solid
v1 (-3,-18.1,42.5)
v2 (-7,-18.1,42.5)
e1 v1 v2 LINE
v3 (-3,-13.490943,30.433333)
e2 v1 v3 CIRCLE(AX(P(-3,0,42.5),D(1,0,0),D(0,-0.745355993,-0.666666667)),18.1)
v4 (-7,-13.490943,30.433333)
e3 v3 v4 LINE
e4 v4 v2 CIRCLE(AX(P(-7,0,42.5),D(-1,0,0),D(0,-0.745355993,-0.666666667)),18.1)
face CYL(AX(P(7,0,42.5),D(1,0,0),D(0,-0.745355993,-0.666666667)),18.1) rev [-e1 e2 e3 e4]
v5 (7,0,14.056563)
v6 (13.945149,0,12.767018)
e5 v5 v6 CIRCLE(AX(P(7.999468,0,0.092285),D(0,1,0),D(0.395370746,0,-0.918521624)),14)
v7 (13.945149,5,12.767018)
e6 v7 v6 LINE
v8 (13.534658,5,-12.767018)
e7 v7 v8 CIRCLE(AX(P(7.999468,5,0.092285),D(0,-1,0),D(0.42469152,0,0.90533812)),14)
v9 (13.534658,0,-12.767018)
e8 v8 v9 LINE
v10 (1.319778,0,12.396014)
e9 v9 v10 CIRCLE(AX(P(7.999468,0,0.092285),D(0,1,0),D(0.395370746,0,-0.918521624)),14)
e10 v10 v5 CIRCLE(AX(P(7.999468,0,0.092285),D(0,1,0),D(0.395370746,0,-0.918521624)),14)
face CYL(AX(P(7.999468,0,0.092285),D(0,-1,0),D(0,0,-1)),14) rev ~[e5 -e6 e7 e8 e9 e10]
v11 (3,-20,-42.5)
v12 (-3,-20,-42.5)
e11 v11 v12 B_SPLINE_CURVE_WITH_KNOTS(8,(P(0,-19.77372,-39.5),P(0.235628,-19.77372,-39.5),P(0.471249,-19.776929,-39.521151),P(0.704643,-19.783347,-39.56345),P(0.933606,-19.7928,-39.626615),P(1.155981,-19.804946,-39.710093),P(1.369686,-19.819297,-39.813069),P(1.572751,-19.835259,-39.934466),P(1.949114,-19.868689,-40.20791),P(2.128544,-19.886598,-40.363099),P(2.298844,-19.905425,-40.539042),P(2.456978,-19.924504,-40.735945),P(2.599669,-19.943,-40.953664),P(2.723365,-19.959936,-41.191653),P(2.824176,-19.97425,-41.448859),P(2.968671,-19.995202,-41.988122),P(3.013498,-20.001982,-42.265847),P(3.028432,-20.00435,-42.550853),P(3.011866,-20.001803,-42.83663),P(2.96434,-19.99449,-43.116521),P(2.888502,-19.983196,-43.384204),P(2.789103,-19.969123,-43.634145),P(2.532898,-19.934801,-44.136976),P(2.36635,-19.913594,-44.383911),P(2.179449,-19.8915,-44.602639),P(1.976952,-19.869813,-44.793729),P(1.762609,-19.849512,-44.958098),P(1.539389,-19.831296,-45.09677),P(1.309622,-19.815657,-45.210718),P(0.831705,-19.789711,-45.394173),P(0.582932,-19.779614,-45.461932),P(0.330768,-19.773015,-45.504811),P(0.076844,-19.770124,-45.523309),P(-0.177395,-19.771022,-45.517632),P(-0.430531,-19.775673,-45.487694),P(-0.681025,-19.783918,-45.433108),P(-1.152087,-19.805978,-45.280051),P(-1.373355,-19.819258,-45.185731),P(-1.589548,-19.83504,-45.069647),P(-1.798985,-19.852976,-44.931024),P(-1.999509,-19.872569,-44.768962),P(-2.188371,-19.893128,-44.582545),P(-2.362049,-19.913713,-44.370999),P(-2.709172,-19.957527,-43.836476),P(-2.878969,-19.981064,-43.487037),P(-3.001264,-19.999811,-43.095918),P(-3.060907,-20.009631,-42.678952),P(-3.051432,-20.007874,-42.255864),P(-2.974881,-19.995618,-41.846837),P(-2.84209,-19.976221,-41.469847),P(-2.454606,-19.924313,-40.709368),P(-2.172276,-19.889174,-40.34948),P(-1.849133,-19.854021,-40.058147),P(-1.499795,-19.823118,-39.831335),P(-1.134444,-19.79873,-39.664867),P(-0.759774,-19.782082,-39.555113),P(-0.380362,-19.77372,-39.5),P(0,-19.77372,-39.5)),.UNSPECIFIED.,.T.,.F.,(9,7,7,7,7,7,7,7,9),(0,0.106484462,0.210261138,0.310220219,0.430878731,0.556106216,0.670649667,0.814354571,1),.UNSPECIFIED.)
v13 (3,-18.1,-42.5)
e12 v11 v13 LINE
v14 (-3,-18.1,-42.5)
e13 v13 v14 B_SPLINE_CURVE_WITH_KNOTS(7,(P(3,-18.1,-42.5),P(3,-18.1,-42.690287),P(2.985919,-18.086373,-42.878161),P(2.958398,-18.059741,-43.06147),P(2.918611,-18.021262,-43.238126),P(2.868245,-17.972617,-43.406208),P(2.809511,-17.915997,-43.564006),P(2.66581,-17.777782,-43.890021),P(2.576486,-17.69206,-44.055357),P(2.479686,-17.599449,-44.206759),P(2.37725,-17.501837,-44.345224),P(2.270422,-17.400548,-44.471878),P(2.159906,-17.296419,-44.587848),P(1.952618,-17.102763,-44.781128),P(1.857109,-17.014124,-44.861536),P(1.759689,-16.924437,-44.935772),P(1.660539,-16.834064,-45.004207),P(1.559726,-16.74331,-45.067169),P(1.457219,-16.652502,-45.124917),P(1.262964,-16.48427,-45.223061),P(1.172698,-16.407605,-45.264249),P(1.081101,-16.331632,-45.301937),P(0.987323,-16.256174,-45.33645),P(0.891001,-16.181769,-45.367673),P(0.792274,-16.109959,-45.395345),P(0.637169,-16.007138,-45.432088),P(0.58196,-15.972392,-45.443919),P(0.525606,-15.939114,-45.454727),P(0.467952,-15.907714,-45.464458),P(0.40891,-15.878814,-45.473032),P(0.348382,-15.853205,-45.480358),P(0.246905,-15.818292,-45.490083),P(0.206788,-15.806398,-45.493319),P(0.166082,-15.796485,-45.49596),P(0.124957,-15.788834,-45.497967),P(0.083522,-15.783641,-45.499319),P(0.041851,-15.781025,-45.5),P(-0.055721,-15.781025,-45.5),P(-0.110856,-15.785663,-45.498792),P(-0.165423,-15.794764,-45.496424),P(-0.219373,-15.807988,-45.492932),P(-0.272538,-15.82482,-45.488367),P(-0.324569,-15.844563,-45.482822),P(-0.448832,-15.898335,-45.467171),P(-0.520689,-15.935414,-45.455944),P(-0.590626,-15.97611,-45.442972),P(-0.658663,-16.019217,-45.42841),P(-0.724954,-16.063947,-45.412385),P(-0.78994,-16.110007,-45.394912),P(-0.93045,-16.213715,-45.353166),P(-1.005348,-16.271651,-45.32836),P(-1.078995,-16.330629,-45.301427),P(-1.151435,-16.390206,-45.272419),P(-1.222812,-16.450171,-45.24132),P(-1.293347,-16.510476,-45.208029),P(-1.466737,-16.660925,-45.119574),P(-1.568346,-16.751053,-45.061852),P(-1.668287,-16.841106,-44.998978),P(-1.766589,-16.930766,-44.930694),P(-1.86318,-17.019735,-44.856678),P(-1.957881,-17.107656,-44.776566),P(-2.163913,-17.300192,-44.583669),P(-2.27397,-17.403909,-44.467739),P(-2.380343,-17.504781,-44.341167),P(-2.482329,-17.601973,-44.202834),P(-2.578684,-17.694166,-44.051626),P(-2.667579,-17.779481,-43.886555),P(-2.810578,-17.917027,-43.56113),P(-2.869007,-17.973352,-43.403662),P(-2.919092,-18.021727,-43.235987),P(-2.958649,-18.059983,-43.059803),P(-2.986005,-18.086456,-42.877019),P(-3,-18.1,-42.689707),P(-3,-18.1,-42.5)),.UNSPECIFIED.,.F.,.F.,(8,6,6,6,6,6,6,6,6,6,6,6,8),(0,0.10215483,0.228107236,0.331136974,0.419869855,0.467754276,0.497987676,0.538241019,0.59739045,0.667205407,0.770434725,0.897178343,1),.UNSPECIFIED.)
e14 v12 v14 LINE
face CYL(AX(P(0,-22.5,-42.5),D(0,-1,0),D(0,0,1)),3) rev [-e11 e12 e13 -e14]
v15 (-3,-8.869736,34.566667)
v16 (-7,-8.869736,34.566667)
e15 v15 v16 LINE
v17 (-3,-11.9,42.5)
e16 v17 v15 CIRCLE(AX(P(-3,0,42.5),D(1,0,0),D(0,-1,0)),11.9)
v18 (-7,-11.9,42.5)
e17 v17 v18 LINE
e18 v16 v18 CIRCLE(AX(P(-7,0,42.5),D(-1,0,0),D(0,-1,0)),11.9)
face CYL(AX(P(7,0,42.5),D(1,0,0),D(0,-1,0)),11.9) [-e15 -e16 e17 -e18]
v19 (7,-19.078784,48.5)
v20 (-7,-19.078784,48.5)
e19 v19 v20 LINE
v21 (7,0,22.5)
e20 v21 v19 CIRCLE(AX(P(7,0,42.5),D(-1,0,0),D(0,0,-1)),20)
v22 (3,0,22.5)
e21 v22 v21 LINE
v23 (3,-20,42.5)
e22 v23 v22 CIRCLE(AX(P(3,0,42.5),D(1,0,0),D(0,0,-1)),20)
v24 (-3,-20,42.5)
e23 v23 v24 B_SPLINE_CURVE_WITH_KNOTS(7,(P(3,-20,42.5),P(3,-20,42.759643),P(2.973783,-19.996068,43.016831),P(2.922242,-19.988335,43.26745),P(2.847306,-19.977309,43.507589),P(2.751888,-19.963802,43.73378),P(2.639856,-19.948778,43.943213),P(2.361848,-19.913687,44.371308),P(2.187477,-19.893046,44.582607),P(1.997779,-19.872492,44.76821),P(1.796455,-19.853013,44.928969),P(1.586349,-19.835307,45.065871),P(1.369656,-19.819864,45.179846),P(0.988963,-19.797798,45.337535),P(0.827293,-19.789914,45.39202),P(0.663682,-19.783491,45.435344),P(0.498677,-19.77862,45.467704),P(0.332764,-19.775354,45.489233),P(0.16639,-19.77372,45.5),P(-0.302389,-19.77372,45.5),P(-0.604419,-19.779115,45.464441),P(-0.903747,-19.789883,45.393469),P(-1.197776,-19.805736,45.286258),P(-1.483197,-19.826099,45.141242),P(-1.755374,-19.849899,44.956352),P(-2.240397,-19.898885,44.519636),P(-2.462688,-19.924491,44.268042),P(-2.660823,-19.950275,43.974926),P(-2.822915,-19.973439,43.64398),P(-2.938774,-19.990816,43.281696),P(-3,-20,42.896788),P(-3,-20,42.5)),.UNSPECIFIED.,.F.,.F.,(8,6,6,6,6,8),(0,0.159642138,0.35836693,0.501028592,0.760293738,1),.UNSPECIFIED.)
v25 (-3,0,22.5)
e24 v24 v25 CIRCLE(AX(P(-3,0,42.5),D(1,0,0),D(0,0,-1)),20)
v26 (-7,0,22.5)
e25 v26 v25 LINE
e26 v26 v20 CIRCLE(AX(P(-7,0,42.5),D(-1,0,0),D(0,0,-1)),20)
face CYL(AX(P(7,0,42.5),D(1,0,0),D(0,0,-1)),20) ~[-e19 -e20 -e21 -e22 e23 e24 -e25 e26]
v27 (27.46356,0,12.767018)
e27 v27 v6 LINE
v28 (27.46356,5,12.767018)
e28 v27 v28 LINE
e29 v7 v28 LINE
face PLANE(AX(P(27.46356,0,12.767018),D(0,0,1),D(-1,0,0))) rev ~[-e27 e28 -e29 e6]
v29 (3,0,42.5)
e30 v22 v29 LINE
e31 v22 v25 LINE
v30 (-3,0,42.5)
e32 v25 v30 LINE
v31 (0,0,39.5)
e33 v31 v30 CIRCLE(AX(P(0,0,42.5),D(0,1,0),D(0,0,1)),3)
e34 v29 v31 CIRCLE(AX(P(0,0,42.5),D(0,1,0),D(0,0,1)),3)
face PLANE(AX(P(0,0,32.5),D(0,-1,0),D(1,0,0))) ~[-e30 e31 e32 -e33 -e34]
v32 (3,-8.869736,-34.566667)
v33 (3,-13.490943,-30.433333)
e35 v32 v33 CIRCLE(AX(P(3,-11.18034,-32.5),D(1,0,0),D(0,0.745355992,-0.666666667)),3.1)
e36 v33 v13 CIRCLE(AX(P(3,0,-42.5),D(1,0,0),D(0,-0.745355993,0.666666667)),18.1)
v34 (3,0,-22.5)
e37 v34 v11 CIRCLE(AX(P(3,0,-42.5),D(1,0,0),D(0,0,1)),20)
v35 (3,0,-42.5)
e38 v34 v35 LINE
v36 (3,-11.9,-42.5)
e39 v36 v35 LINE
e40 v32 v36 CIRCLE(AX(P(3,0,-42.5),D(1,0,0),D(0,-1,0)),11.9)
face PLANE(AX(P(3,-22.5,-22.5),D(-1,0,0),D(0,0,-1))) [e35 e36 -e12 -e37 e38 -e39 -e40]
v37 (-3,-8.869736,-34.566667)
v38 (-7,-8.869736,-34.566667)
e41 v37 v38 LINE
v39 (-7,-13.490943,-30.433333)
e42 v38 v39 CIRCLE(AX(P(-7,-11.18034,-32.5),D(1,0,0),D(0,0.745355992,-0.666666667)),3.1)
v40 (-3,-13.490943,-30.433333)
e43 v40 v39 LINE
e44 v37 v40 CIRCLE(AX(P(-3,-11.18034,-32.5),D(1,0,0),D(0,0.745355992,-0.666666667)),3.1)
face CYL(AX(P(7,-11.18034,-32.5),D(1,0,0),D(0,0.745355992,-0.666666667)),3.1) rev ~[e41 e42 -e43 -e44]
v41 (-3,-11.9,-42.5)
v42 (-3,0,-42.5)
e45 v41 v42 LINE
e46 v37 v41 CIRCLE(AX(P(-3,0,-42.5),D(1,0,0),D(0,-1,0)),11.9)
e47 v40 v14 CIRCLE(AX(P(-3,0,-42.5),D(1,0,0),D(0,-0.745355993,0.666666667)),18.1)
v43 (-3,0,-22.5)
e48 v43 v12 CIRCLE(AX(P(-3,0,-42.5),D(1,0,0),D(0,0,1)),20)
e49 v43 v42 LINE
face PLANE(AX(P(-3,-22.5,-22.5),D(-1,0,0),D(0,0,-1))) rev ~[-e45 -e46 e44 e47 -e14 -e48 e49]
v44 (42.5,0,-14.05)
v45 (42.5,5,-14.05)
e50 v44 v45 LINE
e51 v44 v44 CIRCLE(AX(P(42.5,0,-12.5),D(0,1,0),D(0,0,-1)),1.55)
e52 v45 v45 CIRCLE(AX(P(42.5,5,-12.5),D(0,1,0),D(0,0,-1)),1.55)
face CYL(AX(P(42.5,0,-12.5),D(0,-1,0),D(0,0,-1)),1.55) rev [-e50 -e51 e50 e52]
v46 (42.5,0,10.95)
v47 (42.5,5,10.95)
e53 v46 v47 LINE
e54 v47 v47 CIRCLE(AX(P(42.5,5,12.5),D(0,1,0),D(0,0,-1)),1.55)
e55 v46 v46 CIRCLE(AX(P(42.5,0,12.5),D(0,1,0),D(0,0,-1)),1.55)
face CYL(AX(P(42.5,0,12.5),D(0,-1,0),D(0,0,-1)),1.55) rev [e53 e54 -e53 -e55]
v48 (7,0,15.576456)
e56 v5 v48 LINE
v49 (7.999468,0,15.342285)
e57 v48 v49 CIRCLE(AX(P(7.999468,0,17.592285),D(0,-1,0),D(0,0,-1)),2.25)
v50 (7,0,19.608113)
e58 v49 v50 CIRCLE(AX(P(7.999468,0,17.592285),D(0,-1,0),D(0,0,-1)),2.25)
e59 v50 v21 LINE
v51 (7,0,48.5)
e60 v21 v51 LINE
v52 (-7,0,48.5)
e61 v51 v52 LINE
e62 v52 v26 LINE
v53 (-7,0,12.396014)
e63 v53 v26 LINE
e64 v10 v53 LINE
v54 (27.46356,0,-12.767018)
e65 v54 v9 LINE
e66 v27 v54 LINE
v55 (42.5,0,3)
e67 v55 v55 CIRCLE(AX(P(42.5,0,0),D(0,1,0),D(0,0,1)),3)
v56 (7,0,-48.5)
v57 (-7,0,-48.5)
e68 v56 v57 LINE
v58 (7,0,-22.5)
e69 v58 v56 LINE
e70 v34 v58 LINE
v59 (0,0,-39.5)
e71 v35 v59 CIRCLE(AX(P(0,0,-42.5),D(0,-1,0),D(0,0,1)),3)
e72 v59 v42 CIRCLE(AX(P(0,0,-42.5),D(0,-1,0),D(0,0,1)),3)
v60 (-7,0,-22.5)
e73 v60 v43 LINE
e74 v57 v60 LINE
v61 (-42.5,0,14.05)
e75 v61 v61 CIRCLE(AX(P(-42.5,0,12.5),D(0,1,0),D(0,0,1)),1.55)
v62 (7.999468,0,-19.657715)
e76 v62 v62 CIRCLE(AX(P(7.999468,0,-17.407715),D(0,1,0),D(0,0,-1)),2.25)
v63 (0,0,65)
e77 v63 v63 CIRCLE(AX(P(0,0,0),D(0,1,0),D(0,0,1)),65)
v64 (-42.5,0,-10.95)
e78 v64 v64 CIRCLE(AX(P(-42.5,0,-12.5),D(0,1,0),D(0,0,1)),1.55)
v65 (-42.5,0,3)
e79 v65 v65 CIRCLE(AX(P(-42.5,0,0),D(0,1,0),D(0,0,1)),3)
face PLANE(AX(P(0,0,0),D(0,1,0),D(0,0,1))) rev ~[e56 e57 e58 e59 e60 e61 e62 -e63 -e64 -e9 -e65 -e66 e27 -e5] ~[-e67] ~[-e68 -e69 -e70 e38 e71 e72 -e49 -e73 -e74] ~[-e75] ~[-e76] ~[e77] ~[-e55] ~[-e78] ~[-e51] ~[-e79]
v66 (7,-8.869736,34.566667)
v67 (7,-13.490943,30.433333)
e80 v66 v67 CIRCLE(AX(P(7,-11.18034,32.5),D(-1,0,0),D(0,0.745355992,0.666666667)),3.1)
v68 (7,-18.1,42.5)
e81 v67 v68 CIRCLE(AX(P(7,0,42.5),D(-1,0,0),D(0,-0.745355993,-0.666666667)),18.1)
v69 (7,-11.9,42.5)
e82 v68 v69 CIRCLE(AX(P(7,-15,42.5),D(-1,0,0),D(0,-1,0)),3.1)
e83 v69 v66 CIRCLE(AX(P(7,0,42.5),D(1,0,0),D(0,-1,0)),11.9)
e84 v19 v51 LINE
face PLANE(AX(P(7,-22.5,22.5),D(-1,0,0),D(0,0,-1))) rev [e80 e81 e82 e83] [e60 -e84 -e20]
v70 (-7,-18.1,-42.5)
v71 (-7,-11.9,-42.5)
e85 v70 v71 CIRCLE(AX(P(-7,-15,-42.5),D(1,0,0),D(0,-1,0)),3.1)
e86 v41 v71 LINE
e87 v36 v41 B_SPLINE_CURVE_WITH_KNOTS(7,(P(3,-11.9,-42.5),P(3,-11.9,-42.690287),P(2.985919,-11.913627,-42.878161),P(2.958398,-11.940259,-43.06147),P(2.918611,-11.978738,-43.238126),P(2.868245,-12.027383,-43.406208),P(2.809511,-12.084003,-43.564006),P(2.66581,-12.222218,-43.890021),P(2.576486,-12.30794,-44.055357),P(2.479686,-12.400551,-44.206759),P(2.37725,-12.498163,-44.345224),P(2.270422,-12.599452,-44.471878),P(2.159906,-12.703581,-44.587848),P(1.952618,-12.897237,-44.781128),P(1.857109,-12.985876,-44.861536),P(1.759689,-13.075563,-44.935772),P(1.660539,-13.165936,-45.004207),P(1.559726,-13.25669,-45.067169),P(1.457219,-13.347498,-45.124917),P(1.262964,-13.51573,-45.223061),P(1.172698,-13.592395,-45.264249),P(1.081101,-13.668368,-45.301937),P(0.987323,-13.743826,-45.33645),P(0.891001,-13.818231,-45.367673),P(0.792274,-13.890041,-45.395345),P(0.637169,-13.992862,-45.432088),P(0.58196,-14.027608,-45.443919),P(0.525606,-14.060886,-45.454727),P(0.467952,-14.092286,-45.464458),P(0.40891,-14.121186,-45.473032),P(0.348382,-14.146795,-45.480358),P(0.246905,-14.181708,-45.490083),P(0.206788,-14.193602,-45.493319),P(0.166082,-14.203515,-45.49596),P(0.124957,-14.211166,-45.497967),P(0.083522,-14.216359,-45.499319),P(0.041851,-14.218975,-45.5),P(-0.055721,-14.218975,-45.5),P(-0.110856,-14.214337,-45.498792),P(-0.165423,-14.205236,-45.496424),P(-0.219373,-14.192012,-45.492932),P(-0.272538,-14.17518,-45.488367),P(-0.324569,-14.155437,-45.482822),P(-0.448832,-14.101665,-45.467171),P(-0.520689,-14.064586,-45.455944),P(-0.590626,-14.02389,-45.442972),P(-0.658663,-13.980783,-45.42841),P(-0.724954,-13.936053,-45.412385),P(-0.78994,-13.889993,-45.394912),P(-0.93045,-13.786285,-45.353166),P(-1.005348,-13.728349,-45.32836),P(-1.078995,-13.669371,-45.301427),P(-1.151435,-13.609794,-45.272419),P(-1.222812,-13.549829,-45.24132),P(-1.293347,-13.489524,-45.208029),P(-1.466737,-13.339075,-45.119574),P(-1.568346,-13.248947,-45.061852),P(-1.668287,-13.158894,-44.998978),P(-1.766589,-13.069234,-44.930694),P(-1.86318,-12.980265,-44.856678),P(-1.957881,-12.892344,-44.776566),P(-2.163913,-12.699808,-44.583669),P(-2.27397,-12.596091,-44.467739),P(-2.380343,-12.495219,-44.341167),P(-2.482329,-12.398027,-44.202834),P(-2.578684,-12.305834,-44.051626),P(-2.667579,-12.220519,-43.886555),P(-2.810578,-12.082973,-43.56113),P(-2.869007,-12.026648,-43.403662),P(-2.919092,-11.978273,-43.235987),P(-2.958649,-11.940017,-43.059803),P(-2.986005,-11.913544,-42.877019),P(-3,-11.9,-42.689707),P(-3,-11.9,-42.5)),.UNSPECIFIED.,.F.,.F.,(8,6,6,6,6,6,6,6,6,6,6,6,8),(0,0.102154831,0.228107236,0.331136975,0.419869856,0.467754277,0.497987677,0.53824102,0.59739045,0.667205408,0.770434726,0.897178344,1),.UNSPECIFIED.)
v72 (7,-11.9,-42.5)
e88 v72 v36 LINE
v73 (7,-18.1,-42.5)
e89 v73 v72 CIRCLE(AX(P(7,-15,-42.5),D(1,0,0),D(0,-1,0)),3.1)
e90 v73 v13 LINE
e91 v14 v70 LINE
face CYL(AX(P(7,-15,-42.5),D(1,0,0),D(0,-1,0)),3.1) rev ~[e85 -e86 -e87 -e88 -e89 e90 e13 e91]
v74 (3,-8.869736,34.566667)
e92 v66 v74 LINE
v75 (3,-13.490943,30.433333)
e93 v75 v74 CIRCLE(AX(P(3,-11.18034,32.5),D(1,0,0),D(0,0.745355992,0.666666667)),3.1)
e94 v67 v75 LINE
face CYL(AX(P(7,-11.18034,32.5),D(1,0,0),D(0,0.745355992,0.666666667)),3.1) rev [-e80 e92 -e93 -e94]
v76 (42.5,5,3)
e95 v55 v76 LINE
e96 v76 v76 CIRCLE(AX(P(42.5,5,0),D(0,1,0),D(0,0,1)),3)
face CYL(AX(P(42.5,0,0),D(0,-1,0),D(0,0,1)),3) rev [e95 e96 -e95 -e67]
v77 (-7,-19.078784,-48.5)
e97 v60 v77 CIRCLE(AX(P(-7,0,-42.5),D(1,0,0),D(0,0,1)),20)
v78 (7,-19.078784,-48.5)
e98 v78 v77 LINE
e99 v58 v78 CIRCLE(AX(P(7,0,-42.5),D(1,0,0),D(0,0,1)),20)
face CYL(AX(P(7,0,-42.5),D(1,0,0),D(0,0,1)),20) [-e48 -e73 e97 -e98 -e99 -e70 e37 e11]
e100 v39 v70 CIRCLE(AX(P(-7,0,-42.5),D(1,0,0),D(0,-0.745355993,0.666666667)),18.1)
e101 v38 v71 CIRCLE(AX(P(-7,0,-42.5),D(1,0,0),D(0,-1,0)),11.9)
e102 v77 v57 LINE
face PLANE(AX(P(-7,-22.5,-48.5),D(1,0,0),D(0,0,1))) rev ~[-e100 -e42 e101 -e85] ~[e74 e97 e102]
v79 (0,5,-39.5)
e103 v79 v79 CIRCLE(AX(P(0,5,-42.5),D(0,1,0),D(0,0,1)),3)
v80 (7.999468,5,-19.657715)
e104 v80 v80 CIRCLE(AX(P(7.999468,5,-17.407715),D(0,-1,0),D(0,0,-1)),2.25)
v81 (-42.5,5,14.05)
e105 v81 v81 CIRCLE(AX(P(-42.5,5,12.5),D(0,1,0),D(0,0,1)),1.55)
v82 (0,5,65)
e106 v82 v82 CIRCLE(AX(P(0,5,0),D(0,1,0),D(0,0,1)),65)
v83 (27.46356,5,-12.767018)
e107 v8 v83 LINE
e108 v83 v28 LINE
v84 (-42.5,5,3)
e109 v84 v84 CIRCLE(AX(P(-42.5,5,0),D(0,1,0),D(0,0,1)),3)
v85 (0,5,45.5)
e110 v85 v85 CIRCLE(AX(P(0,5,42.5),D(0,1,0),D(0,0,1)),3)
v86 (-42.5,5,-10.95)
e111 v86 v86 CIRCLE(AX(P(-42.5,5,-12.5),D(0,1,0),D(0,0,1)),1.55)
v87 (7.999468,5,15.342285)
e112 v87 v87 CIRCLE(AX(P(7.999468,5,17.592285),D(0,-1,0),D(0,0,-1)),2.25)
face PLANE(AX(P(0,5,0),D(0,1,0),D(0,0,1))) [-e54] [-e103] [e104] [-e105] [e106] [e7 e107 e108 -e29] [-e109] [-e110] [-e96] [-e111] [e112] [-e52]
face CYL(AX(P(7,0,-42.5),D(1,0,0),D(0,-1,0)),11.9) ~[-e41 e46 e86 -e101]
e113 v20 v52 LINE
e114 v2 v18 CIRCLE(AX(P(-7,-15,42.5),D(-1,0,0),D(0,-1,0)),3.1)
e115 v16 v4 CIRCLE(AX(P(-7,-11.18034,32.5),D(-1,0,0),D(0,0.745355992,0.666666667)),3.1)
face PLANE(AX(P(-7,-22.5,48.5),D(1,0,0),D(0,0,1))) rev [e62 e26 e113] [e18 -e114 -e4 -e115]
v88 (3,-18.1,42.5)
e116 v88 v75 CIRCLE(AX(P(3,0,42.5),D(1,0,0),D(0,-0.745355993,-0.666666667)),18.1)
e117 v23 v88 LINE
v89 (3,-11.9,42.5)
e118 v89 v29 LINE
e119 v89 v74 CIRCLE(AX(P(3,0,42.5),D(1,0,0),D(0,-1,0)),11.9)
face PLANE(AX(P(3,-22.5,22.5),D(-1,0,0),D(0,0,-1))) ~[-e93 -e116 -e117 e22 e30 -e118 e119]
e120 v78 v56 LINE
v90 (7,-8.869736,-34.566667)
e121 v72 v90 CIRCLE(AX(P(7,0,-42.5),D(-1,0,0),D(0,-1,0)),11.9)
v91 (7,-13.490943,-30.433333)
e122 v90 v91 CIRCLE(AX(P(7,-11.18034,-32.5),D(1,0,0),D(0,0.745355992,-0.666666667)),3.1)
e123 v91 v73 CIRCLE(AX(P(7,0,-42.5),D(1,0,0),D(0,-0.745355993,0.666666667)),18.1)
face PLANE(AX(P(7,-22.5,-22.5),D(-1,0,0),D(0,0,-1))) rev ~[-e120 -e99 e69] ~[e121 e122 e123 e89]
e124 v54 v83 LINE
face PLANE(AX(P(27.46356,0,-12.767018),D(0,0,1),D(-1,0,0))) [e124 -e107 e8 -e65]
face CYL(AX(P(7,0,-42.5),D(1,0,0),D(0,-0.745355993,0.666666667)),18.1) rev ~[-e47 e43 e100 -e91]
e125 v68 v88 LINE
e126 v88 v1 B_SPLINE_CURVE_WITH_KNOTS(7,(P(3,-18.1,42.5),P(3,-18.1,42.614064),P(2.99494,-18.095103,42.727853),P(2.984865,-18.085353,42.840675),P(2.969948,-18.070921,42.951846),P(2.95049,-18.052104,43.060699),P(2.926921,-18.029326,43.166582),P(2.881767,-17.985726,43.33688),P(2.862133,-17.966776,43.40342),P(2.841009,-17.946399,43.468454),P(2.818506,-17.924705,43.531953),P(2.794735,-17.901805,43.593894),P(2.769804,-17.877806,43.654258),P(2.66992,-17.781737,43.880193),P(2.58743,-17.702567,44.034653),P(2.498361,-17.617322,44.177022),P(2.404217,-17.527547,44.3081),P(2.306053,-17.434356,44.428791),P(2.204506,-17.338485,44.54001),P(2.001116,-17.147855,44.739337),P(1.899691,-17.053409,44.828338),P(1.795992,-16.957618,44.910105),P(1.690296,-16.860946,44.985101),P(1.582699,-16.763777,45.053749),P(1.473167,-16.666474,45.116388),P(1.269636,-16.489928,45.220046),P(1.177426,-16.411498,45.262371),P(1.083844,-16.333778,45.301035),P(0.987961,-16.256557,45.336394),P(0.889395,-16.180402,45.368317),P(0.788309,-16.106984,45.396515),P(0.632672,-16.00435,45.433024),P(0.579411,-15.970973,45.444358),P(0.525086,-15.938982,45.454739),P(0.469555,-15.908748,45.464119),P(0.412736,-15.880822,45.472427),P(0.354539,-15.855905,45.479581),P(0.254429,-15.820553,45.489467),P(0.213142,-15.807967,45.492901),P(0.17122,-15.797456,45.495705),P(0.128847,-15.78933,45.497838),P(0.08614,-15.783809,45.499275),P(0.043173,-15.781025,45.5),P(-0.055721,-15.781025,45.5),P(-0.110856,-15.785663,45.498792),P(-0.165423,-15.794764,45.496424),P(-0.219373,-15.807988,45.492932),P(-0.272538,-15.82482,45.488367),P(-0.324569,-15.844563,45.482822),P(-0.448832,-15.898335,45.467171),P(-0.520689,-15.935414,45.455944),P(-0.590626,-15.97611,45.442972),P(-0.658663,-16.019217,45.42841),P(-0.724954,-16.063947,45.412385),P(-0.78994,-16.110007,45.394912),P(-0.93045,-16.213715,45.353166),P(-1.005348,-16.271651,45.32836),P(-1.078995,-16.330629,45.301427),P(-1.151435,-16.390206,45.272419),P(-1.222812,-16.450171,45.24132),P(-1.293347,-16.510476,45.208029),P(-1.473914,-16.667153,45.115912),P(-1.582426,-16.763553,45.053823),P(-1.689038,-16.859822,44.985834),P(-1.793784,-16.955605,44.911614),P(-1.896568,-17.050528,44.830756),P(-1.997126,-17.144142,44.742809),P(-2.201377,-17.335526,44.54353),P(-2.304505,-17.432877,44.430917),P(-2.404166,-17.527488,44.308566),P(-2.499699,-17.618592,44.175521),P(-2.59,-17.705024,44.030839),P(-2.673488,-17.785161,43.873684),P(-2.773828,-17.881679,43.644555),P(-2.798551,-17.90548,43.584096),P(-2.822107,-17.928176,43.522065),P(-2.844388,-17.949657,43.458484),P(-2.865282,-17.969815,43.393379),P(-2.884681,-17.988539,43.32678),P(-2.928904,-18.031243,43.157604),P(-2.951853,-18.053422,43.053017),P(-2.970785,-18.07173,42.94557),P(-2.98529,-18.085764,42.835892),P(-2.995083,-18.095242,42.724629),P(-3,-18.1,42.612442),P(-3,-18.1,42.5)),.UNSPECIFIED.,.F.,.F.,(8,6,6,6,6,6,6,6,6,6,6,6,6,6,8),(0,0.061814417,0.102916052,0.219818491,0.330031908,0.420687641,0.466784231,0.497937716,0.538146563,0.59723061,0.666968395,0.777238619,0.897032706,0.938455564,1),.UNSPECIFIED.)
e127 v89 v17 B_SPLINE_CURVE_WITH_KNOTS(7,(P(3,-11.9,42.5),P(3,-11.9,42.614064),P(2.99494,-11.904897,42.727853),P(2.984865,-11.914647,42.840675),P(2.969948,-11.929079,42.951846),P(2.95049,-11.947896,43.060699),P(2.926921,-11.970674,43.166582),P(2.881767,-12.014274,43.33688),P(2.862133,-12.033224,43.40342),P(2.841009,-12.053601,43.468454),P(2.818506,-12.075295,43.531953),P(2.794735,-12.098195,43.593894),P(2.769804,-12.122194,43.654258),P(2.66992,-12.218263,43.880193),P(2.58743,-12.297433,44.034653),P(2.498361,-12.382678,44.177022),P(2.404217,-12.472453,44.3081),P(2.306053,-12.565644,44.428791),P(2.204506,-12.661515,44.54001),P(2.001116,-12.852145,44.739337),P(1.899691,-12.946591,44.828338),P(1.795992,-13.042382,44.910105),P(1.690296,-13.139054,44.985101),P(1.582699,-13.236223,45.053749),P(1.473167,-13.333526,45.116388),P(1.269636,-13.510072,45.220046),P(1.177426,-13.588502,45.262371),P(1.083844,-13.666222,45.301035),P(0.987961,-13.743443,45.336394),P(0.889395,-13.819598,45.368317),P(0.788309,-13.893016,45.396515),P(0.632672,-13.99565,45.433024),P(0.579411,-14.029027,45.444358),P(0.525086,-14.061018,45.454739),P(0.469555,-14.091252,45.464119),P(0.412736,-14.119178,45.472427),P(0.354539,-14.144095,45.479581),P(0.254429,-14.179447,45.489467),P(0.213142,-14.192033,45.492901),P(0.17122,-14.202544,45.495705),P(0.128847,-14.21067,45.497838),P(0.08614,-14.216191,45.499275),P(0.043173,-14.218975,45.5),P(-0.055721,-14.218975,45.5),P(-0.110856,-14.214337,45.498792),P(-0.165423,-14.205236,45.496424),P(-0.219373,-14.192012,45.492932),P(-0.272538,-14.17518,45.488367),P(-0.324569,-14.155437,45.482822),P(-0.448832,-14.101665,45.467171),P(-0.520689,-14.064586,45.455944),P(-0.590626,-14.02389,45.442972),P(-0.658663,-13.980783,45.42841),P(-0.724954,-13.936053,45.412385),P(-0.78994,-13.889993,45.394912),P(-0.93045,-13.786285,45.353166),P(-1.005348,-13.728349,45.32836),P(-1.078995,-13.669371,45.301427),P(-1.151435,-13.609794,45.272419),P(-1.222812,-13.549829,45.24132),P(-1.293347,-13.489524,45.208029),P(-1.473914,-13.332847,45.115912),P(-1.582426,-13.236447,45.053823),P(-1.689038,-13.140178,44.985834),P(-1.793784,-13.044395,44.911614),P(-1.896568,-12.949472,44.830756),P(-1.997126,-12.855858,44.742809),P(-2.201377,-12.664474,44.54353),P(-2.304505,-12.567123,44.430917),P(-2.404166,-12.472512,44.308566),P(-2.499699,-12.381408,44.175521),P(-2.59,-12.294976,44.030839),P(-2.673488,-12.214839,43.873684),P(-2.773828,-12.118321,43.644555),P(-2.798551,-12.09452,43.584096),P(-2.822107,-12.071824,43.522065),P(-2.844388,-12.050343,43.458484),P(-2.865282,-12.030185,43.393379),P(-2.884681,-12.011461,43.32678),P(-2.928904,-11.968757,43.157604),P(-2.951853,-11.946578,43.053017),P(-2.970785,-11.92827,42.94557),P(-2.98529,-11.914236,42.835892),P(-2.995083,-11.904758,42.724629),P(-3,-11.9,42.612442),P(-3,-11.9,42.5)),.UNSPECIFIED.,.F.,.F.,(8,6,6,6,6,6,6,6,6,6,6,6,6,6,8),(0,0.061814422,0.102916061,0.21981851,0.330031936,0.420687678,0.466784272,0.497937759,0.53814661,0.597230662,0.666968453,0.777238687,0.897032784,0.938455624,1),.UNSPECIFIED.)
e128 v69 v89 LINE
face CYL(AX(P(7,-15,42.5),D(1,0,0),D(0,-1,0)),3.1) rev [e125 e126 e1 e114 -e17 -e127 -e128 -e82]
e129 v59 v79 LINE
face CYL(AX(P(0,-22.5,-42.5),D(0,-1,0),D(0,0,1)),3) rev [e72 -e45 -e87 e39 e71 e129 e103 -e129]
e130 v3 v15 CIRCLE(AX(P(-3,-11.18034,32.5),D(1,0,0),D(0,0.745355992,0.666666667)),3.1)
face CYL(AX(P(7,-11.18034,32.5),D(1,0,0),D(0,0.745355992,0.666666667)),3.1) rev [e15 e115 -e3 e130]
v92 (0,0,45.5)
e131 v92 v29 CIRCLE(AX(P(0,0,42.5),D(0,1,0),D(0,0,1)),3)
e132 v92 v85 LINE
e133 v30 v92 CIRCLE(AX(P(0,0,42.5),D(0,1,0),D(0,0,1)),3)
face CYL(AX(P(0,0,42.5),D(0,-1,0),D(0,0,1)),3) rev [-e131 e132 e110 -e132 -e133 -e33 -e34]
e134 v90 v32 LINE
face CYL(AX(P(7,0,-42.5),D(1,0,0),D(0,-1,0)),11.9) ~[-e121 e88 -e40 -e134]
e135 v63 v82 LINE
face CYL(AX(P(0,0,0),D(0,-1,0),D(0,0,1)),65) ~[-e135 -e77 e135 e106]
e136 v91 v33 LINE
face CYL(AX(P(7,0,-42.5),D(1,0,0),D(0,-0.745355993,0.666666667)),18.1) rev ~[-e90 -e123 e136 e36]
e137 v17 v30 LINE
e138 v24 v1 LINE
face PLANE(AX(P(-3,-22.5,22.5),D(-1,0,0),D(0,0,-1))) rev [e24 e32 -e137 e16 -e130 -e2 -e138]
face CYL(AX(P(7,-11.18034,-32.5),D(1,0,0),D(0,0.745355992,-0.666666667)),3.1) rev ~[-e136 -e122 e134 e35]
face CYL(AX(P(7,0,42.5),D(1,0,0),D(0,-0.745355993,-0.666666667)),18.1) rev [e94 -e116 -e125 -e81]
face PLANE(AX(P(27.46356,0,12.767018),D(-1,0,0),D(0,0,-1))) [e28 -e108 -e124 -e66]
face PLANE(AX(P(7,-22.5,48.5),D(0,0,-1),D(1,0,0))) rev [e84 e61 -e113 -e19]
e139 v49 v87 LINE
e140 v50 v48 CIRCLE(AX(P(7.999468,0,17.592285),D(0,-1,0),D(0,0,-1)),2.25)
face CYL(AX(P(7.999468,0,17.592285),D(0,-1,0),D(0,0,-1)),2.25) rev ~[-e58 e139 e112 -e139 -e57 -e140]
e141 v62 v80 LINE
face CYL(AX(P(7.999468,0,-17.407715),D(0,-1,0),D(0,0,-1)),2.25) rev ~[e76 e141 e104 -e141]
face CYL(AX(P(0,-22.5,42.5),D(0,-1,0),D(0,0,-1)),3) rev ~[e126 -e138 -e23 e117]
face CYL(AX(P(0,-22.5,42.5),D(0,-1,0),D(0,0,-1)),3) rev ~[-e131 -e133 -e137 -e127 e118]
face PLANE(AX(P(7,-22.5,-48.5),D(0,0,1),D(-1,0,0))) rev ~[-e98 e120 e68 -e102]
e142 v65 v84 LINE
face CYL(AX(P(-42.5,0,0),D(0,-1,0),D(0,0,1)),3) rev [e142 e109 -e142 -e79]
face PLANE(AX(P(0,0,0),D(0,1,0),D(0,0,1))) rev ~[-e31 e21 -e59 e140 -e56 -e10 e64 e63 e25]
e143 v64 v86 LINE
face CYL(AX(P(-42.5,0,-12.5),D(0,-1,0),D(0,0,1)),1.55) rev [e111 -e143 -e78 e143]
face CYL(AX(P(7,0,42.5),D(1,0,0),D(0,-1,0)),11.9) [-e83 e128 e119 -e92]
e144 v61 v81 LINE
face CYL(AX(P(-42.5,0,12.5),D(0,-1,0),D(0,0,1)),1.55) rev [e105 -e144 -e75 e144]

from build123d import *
from build123d.topology import SkipClean

# Parameters (mm, degrees)
SKETCH1_R           = 65
SKETCH1_R_2         = 5
SKETCH1_R_3         = 3
SKETCH1_R_4         = 1.55
BOSS_EXTRUDE1_DEPTH = 5
SKETCH2_R           = 14
CUT_EXTRUDE2_DEPTH  = 10
SKETCH3_R           = 2.25
SKETCH3_W           = 17.301764966
SKETCH3_H           = 25.534036418
CUT_EXTRUDE3_DEPTH  = 10
BOSS_EXTRUDE2_START = -27.5
SKETCH4_R           = 3
BOSS_EXTRUDE2_DEPTH = 22.5
SKETCH6_W           = 6
SKETCH6_H           = 20
CUT_EXTRUDE4_DEPTH  = 22.5
CUT_EXTRUDE5_REACH  = 101.575


with BuildPart() as part:
    # Sketch1 → Boss-Extrude1 (new body)
    with BuildSketch(Plane(origin=(0, 0, 0), x_dir=(1, 0, 0), z_dir=(0, 1, 0))):
        with Locations(Location((0, 0, 0), (0, 0, 270))):
            Circle(SKETCH1_R)
        with Locations(Location((0, 0, 0), (0, 0, 270))):
            Circle(SKETCH1_R_2, mode=Mode.SUBTRACT)
        with Locations(Location((0, 42.5, 0), (0, 0, 270))):
            Circle(SKETCH1_R_3, mode=Mode.SUBTRACT)
        with Locations(Location((42.5, 0, 0), (0, 0, 270))):
            Circle(SKETCH1_R_3, mode=Mode.SUBTRACT)
        with Locations(Location((0, -42.5, 0), (0, 0, 270))):
            Circle(SKETCH1_R_3, mode=Mode.SUBTRACT)
        with Locations(Location((-42.5, 0, 0), (0, 0, 270))):
            Circle(SKETCH1_R_3, mode=Mode.SUBTRACT)
        with Locations(Location((-42.5, -12.5, 0), (0, 0, 270))):
            Circle(SKETCH1_R_4, mode=Mode.SUBTRACT)
        with Locations(Location((-42.5, 12.5, 0), (0, 0, 270))):
            Circle(SKETCH1_R_4, mode=Mode.SUBTRACT)
        with Locations(Location((42.5, -12.5, 0), (0, 0, 90))):
            Circle(SKETCH1_R_4, mode=Mode.SUBTRACT)
        with Locations(Location((42.5, 12.5, 0), (0, 0, 90))):
            Circle(SKETCH1_R_4, mode=Mode.SUBTRACT)
    extrude(amount=BOSS_EXTRUDE1_DEPTH)

    # Sketch2 → Cut-Extrude2 (cut)
    with BuildSketch(Plane(origin=(0, 0, 0), x_dir=(-1, 0, 0), z_dir=(0, -1, 0))):
        with Locations(Location((-7.999467705, -0.092284522, 0), (0, 0, 90))):
            Circle(SKETCH2_R)
    extrude(amount=-CUT_EXTRUDE2_DEPTH, mode=Mode.SUBTRACT)

    # Sketch3 → Cut-Extrude3 (cut)
    with BuildSketch(Plane(origin=(0, 0, 0), x_dir=(-1, 0, 0), z_dir=(0, -1, 0))):
        with Locations(Location((-7.999467705, -17.592284522, 0), (0, 0, 90))):
            Circle(SKETCH3_R)
        with Locations(Location((-7.999467705, 17.407715478, 0), (0, 0, 90))):
            Circle(SKETCH3_R)
        with Locations((-18.812677283, 0)):
            Rectangle(SKETCH3_W, SKETCH3_H)
    extrude(amount=-CUT_EXTRUDE3_DEPTH, mode=Mode.SUBTRACT)

    # Sketch4 → Boss-Extrude2 (add)
    with BuildSketch(Plane(origin=(0, 5, 0), x_dir=(1, 0, 0), z_dir=(0, 1, 0)).offset(BOSS_EXTRUDE2_START)):
        Polygon((-7, 42.5), (-7, 22.5), (7, 22.5), (7, 42.5), (7, 48.5), (-7, 48.5), align=None)
        with Locations(Location((0, 42.5, 0), (0, 0, 270))):
            Circle(SKETCH4_R, mode=Mode.SUBTRACT)
    boss_extrude2 = extrude(amount=BOSS_EXTRUDE2_DEPTH)

    # Sketch6 → Cut-Extrude4 (cut)
    with BuildSketch(Plane(origin=(0, -22.5, 0), x_dir=(-1, 0, 0), z_dir=(0, -1, 0))):
        with Locations((0, 32.5)):
            Rectangle(SKETCH6_W, SKETCH6_H)
    cut_extrude4 = extrude(amount=-CUT_EXTRUDE4_DEPTH, mode=Mode.SUBTRACT)

    # Cut-Extrude5: up to this face of the body (flat: up to its plane)
    cut_extrude5_end = Plane(part.part.faces().sort_by_distance((-7, -11.25, -35.5))[0])
    # Sketch7 → Cut-Extrude5 (cut, up to the picked face)
    with BuildSketch(Plane(origin=(7, 0, 0), x_dir=(0, 0, -1), z_dir=(1, 0, 0)), mode=Mode.PRIVATE) as cut_extrude5_sk1:
        with BuildLine():
            Line((12.396013553, 0), (22.5, 0))
            ThreePointArc((22.5, 0), (30.667840434, -16.124515497), (48.5, -19.078784028))
            Line((48.5, -19.078784028), (48.5, -29.5))
            ThreePointArc((48.5, -29.5), (23.452348159, -23.31173437), (12.396013553, 0))
        make_face()
    cut_extrude5_tool1 = split(extrude(cut_extrude5_sk1.sketch, amount=-CUT_EXTRUDE5_REACH, mode=Mode.PRIVATE), bisect_by=cut_extrude5_end, keep=Keep.BOTH, mode=Mode.PRIVATE)
    # Sketch7 → Cut-Extrude5 (cut, up to the picked face)
    with BuildSketch(Plane(origin=(7, 0, 0), x_dir=(0, 0, -1), z_dir=(1, 0, 0)), mode=Mode.PRIVATE) as cut_extrude5_sk2:
        with BuildLine():
            ThreePointArc((42.5, -18.1), (45.6, -15), (42.5, -11.9))
            ThreePointArc((42.5, -11.9), (38.253817132, -11.116651072), (34.566666667, -8.869736311))
            ThreePointArc((34.566666667, -8.869736311), (30.189396423, -9.113673221), (30.433333333, -13.490943464))
            ThreePointArc((30.433333333, -13.490943464), (36.041520175, -16.908519697), (42.5, -18.1))
        make_face()
    cut_extrude5_tool2 = split(extrude(cut_extrude5_sk2.sketch, amount=-CUT_EXTRUDE5_REACH, mode=Mode.PRIVATE), bisect_by=cut_extrude5_end, keep=Keep.BOTH, mode=Mode.PRIVATE)
    cut_extrude5_1 = cut_extrude5_tool1.solids().sort_by(Axis((7, -17.317055, -28.895304), (-1, 0, 0)))[0]
    add(cut_extrude5_1, mode=Mode.SUBTRACT)
    cut_extrude5_2 = cut_extrude5_tool2.solids().sort_by(Axis((7, -13.514827, -37.337795), (-1, 0, 0)))[0]
    add(cut_extrude5_2, mode=Mode.SUBTRACT)
    cut_extrude5 = cut_extrude5_1 + cut_extrude5_2  # Cut-Extrude5 as one shape, for the pattern or mirror that repeats it

    # Mirror1: Boss-Extrude2, Cut-Extrude4, Cut-Extrude5 across plane
    with SkipClean():  # the faces are left unmerged after this step: merging them gives an invalid solid
        add(boss_extrude2.mirror(Plane.XY))
        add(cut_extrude4.mirror(Plane.XY), mode=Mode.SUBTRACT)
        add(cut_extrude5.mirror(Plane.XY), mode=Mode.SUBTRACT)


solid = part.part
